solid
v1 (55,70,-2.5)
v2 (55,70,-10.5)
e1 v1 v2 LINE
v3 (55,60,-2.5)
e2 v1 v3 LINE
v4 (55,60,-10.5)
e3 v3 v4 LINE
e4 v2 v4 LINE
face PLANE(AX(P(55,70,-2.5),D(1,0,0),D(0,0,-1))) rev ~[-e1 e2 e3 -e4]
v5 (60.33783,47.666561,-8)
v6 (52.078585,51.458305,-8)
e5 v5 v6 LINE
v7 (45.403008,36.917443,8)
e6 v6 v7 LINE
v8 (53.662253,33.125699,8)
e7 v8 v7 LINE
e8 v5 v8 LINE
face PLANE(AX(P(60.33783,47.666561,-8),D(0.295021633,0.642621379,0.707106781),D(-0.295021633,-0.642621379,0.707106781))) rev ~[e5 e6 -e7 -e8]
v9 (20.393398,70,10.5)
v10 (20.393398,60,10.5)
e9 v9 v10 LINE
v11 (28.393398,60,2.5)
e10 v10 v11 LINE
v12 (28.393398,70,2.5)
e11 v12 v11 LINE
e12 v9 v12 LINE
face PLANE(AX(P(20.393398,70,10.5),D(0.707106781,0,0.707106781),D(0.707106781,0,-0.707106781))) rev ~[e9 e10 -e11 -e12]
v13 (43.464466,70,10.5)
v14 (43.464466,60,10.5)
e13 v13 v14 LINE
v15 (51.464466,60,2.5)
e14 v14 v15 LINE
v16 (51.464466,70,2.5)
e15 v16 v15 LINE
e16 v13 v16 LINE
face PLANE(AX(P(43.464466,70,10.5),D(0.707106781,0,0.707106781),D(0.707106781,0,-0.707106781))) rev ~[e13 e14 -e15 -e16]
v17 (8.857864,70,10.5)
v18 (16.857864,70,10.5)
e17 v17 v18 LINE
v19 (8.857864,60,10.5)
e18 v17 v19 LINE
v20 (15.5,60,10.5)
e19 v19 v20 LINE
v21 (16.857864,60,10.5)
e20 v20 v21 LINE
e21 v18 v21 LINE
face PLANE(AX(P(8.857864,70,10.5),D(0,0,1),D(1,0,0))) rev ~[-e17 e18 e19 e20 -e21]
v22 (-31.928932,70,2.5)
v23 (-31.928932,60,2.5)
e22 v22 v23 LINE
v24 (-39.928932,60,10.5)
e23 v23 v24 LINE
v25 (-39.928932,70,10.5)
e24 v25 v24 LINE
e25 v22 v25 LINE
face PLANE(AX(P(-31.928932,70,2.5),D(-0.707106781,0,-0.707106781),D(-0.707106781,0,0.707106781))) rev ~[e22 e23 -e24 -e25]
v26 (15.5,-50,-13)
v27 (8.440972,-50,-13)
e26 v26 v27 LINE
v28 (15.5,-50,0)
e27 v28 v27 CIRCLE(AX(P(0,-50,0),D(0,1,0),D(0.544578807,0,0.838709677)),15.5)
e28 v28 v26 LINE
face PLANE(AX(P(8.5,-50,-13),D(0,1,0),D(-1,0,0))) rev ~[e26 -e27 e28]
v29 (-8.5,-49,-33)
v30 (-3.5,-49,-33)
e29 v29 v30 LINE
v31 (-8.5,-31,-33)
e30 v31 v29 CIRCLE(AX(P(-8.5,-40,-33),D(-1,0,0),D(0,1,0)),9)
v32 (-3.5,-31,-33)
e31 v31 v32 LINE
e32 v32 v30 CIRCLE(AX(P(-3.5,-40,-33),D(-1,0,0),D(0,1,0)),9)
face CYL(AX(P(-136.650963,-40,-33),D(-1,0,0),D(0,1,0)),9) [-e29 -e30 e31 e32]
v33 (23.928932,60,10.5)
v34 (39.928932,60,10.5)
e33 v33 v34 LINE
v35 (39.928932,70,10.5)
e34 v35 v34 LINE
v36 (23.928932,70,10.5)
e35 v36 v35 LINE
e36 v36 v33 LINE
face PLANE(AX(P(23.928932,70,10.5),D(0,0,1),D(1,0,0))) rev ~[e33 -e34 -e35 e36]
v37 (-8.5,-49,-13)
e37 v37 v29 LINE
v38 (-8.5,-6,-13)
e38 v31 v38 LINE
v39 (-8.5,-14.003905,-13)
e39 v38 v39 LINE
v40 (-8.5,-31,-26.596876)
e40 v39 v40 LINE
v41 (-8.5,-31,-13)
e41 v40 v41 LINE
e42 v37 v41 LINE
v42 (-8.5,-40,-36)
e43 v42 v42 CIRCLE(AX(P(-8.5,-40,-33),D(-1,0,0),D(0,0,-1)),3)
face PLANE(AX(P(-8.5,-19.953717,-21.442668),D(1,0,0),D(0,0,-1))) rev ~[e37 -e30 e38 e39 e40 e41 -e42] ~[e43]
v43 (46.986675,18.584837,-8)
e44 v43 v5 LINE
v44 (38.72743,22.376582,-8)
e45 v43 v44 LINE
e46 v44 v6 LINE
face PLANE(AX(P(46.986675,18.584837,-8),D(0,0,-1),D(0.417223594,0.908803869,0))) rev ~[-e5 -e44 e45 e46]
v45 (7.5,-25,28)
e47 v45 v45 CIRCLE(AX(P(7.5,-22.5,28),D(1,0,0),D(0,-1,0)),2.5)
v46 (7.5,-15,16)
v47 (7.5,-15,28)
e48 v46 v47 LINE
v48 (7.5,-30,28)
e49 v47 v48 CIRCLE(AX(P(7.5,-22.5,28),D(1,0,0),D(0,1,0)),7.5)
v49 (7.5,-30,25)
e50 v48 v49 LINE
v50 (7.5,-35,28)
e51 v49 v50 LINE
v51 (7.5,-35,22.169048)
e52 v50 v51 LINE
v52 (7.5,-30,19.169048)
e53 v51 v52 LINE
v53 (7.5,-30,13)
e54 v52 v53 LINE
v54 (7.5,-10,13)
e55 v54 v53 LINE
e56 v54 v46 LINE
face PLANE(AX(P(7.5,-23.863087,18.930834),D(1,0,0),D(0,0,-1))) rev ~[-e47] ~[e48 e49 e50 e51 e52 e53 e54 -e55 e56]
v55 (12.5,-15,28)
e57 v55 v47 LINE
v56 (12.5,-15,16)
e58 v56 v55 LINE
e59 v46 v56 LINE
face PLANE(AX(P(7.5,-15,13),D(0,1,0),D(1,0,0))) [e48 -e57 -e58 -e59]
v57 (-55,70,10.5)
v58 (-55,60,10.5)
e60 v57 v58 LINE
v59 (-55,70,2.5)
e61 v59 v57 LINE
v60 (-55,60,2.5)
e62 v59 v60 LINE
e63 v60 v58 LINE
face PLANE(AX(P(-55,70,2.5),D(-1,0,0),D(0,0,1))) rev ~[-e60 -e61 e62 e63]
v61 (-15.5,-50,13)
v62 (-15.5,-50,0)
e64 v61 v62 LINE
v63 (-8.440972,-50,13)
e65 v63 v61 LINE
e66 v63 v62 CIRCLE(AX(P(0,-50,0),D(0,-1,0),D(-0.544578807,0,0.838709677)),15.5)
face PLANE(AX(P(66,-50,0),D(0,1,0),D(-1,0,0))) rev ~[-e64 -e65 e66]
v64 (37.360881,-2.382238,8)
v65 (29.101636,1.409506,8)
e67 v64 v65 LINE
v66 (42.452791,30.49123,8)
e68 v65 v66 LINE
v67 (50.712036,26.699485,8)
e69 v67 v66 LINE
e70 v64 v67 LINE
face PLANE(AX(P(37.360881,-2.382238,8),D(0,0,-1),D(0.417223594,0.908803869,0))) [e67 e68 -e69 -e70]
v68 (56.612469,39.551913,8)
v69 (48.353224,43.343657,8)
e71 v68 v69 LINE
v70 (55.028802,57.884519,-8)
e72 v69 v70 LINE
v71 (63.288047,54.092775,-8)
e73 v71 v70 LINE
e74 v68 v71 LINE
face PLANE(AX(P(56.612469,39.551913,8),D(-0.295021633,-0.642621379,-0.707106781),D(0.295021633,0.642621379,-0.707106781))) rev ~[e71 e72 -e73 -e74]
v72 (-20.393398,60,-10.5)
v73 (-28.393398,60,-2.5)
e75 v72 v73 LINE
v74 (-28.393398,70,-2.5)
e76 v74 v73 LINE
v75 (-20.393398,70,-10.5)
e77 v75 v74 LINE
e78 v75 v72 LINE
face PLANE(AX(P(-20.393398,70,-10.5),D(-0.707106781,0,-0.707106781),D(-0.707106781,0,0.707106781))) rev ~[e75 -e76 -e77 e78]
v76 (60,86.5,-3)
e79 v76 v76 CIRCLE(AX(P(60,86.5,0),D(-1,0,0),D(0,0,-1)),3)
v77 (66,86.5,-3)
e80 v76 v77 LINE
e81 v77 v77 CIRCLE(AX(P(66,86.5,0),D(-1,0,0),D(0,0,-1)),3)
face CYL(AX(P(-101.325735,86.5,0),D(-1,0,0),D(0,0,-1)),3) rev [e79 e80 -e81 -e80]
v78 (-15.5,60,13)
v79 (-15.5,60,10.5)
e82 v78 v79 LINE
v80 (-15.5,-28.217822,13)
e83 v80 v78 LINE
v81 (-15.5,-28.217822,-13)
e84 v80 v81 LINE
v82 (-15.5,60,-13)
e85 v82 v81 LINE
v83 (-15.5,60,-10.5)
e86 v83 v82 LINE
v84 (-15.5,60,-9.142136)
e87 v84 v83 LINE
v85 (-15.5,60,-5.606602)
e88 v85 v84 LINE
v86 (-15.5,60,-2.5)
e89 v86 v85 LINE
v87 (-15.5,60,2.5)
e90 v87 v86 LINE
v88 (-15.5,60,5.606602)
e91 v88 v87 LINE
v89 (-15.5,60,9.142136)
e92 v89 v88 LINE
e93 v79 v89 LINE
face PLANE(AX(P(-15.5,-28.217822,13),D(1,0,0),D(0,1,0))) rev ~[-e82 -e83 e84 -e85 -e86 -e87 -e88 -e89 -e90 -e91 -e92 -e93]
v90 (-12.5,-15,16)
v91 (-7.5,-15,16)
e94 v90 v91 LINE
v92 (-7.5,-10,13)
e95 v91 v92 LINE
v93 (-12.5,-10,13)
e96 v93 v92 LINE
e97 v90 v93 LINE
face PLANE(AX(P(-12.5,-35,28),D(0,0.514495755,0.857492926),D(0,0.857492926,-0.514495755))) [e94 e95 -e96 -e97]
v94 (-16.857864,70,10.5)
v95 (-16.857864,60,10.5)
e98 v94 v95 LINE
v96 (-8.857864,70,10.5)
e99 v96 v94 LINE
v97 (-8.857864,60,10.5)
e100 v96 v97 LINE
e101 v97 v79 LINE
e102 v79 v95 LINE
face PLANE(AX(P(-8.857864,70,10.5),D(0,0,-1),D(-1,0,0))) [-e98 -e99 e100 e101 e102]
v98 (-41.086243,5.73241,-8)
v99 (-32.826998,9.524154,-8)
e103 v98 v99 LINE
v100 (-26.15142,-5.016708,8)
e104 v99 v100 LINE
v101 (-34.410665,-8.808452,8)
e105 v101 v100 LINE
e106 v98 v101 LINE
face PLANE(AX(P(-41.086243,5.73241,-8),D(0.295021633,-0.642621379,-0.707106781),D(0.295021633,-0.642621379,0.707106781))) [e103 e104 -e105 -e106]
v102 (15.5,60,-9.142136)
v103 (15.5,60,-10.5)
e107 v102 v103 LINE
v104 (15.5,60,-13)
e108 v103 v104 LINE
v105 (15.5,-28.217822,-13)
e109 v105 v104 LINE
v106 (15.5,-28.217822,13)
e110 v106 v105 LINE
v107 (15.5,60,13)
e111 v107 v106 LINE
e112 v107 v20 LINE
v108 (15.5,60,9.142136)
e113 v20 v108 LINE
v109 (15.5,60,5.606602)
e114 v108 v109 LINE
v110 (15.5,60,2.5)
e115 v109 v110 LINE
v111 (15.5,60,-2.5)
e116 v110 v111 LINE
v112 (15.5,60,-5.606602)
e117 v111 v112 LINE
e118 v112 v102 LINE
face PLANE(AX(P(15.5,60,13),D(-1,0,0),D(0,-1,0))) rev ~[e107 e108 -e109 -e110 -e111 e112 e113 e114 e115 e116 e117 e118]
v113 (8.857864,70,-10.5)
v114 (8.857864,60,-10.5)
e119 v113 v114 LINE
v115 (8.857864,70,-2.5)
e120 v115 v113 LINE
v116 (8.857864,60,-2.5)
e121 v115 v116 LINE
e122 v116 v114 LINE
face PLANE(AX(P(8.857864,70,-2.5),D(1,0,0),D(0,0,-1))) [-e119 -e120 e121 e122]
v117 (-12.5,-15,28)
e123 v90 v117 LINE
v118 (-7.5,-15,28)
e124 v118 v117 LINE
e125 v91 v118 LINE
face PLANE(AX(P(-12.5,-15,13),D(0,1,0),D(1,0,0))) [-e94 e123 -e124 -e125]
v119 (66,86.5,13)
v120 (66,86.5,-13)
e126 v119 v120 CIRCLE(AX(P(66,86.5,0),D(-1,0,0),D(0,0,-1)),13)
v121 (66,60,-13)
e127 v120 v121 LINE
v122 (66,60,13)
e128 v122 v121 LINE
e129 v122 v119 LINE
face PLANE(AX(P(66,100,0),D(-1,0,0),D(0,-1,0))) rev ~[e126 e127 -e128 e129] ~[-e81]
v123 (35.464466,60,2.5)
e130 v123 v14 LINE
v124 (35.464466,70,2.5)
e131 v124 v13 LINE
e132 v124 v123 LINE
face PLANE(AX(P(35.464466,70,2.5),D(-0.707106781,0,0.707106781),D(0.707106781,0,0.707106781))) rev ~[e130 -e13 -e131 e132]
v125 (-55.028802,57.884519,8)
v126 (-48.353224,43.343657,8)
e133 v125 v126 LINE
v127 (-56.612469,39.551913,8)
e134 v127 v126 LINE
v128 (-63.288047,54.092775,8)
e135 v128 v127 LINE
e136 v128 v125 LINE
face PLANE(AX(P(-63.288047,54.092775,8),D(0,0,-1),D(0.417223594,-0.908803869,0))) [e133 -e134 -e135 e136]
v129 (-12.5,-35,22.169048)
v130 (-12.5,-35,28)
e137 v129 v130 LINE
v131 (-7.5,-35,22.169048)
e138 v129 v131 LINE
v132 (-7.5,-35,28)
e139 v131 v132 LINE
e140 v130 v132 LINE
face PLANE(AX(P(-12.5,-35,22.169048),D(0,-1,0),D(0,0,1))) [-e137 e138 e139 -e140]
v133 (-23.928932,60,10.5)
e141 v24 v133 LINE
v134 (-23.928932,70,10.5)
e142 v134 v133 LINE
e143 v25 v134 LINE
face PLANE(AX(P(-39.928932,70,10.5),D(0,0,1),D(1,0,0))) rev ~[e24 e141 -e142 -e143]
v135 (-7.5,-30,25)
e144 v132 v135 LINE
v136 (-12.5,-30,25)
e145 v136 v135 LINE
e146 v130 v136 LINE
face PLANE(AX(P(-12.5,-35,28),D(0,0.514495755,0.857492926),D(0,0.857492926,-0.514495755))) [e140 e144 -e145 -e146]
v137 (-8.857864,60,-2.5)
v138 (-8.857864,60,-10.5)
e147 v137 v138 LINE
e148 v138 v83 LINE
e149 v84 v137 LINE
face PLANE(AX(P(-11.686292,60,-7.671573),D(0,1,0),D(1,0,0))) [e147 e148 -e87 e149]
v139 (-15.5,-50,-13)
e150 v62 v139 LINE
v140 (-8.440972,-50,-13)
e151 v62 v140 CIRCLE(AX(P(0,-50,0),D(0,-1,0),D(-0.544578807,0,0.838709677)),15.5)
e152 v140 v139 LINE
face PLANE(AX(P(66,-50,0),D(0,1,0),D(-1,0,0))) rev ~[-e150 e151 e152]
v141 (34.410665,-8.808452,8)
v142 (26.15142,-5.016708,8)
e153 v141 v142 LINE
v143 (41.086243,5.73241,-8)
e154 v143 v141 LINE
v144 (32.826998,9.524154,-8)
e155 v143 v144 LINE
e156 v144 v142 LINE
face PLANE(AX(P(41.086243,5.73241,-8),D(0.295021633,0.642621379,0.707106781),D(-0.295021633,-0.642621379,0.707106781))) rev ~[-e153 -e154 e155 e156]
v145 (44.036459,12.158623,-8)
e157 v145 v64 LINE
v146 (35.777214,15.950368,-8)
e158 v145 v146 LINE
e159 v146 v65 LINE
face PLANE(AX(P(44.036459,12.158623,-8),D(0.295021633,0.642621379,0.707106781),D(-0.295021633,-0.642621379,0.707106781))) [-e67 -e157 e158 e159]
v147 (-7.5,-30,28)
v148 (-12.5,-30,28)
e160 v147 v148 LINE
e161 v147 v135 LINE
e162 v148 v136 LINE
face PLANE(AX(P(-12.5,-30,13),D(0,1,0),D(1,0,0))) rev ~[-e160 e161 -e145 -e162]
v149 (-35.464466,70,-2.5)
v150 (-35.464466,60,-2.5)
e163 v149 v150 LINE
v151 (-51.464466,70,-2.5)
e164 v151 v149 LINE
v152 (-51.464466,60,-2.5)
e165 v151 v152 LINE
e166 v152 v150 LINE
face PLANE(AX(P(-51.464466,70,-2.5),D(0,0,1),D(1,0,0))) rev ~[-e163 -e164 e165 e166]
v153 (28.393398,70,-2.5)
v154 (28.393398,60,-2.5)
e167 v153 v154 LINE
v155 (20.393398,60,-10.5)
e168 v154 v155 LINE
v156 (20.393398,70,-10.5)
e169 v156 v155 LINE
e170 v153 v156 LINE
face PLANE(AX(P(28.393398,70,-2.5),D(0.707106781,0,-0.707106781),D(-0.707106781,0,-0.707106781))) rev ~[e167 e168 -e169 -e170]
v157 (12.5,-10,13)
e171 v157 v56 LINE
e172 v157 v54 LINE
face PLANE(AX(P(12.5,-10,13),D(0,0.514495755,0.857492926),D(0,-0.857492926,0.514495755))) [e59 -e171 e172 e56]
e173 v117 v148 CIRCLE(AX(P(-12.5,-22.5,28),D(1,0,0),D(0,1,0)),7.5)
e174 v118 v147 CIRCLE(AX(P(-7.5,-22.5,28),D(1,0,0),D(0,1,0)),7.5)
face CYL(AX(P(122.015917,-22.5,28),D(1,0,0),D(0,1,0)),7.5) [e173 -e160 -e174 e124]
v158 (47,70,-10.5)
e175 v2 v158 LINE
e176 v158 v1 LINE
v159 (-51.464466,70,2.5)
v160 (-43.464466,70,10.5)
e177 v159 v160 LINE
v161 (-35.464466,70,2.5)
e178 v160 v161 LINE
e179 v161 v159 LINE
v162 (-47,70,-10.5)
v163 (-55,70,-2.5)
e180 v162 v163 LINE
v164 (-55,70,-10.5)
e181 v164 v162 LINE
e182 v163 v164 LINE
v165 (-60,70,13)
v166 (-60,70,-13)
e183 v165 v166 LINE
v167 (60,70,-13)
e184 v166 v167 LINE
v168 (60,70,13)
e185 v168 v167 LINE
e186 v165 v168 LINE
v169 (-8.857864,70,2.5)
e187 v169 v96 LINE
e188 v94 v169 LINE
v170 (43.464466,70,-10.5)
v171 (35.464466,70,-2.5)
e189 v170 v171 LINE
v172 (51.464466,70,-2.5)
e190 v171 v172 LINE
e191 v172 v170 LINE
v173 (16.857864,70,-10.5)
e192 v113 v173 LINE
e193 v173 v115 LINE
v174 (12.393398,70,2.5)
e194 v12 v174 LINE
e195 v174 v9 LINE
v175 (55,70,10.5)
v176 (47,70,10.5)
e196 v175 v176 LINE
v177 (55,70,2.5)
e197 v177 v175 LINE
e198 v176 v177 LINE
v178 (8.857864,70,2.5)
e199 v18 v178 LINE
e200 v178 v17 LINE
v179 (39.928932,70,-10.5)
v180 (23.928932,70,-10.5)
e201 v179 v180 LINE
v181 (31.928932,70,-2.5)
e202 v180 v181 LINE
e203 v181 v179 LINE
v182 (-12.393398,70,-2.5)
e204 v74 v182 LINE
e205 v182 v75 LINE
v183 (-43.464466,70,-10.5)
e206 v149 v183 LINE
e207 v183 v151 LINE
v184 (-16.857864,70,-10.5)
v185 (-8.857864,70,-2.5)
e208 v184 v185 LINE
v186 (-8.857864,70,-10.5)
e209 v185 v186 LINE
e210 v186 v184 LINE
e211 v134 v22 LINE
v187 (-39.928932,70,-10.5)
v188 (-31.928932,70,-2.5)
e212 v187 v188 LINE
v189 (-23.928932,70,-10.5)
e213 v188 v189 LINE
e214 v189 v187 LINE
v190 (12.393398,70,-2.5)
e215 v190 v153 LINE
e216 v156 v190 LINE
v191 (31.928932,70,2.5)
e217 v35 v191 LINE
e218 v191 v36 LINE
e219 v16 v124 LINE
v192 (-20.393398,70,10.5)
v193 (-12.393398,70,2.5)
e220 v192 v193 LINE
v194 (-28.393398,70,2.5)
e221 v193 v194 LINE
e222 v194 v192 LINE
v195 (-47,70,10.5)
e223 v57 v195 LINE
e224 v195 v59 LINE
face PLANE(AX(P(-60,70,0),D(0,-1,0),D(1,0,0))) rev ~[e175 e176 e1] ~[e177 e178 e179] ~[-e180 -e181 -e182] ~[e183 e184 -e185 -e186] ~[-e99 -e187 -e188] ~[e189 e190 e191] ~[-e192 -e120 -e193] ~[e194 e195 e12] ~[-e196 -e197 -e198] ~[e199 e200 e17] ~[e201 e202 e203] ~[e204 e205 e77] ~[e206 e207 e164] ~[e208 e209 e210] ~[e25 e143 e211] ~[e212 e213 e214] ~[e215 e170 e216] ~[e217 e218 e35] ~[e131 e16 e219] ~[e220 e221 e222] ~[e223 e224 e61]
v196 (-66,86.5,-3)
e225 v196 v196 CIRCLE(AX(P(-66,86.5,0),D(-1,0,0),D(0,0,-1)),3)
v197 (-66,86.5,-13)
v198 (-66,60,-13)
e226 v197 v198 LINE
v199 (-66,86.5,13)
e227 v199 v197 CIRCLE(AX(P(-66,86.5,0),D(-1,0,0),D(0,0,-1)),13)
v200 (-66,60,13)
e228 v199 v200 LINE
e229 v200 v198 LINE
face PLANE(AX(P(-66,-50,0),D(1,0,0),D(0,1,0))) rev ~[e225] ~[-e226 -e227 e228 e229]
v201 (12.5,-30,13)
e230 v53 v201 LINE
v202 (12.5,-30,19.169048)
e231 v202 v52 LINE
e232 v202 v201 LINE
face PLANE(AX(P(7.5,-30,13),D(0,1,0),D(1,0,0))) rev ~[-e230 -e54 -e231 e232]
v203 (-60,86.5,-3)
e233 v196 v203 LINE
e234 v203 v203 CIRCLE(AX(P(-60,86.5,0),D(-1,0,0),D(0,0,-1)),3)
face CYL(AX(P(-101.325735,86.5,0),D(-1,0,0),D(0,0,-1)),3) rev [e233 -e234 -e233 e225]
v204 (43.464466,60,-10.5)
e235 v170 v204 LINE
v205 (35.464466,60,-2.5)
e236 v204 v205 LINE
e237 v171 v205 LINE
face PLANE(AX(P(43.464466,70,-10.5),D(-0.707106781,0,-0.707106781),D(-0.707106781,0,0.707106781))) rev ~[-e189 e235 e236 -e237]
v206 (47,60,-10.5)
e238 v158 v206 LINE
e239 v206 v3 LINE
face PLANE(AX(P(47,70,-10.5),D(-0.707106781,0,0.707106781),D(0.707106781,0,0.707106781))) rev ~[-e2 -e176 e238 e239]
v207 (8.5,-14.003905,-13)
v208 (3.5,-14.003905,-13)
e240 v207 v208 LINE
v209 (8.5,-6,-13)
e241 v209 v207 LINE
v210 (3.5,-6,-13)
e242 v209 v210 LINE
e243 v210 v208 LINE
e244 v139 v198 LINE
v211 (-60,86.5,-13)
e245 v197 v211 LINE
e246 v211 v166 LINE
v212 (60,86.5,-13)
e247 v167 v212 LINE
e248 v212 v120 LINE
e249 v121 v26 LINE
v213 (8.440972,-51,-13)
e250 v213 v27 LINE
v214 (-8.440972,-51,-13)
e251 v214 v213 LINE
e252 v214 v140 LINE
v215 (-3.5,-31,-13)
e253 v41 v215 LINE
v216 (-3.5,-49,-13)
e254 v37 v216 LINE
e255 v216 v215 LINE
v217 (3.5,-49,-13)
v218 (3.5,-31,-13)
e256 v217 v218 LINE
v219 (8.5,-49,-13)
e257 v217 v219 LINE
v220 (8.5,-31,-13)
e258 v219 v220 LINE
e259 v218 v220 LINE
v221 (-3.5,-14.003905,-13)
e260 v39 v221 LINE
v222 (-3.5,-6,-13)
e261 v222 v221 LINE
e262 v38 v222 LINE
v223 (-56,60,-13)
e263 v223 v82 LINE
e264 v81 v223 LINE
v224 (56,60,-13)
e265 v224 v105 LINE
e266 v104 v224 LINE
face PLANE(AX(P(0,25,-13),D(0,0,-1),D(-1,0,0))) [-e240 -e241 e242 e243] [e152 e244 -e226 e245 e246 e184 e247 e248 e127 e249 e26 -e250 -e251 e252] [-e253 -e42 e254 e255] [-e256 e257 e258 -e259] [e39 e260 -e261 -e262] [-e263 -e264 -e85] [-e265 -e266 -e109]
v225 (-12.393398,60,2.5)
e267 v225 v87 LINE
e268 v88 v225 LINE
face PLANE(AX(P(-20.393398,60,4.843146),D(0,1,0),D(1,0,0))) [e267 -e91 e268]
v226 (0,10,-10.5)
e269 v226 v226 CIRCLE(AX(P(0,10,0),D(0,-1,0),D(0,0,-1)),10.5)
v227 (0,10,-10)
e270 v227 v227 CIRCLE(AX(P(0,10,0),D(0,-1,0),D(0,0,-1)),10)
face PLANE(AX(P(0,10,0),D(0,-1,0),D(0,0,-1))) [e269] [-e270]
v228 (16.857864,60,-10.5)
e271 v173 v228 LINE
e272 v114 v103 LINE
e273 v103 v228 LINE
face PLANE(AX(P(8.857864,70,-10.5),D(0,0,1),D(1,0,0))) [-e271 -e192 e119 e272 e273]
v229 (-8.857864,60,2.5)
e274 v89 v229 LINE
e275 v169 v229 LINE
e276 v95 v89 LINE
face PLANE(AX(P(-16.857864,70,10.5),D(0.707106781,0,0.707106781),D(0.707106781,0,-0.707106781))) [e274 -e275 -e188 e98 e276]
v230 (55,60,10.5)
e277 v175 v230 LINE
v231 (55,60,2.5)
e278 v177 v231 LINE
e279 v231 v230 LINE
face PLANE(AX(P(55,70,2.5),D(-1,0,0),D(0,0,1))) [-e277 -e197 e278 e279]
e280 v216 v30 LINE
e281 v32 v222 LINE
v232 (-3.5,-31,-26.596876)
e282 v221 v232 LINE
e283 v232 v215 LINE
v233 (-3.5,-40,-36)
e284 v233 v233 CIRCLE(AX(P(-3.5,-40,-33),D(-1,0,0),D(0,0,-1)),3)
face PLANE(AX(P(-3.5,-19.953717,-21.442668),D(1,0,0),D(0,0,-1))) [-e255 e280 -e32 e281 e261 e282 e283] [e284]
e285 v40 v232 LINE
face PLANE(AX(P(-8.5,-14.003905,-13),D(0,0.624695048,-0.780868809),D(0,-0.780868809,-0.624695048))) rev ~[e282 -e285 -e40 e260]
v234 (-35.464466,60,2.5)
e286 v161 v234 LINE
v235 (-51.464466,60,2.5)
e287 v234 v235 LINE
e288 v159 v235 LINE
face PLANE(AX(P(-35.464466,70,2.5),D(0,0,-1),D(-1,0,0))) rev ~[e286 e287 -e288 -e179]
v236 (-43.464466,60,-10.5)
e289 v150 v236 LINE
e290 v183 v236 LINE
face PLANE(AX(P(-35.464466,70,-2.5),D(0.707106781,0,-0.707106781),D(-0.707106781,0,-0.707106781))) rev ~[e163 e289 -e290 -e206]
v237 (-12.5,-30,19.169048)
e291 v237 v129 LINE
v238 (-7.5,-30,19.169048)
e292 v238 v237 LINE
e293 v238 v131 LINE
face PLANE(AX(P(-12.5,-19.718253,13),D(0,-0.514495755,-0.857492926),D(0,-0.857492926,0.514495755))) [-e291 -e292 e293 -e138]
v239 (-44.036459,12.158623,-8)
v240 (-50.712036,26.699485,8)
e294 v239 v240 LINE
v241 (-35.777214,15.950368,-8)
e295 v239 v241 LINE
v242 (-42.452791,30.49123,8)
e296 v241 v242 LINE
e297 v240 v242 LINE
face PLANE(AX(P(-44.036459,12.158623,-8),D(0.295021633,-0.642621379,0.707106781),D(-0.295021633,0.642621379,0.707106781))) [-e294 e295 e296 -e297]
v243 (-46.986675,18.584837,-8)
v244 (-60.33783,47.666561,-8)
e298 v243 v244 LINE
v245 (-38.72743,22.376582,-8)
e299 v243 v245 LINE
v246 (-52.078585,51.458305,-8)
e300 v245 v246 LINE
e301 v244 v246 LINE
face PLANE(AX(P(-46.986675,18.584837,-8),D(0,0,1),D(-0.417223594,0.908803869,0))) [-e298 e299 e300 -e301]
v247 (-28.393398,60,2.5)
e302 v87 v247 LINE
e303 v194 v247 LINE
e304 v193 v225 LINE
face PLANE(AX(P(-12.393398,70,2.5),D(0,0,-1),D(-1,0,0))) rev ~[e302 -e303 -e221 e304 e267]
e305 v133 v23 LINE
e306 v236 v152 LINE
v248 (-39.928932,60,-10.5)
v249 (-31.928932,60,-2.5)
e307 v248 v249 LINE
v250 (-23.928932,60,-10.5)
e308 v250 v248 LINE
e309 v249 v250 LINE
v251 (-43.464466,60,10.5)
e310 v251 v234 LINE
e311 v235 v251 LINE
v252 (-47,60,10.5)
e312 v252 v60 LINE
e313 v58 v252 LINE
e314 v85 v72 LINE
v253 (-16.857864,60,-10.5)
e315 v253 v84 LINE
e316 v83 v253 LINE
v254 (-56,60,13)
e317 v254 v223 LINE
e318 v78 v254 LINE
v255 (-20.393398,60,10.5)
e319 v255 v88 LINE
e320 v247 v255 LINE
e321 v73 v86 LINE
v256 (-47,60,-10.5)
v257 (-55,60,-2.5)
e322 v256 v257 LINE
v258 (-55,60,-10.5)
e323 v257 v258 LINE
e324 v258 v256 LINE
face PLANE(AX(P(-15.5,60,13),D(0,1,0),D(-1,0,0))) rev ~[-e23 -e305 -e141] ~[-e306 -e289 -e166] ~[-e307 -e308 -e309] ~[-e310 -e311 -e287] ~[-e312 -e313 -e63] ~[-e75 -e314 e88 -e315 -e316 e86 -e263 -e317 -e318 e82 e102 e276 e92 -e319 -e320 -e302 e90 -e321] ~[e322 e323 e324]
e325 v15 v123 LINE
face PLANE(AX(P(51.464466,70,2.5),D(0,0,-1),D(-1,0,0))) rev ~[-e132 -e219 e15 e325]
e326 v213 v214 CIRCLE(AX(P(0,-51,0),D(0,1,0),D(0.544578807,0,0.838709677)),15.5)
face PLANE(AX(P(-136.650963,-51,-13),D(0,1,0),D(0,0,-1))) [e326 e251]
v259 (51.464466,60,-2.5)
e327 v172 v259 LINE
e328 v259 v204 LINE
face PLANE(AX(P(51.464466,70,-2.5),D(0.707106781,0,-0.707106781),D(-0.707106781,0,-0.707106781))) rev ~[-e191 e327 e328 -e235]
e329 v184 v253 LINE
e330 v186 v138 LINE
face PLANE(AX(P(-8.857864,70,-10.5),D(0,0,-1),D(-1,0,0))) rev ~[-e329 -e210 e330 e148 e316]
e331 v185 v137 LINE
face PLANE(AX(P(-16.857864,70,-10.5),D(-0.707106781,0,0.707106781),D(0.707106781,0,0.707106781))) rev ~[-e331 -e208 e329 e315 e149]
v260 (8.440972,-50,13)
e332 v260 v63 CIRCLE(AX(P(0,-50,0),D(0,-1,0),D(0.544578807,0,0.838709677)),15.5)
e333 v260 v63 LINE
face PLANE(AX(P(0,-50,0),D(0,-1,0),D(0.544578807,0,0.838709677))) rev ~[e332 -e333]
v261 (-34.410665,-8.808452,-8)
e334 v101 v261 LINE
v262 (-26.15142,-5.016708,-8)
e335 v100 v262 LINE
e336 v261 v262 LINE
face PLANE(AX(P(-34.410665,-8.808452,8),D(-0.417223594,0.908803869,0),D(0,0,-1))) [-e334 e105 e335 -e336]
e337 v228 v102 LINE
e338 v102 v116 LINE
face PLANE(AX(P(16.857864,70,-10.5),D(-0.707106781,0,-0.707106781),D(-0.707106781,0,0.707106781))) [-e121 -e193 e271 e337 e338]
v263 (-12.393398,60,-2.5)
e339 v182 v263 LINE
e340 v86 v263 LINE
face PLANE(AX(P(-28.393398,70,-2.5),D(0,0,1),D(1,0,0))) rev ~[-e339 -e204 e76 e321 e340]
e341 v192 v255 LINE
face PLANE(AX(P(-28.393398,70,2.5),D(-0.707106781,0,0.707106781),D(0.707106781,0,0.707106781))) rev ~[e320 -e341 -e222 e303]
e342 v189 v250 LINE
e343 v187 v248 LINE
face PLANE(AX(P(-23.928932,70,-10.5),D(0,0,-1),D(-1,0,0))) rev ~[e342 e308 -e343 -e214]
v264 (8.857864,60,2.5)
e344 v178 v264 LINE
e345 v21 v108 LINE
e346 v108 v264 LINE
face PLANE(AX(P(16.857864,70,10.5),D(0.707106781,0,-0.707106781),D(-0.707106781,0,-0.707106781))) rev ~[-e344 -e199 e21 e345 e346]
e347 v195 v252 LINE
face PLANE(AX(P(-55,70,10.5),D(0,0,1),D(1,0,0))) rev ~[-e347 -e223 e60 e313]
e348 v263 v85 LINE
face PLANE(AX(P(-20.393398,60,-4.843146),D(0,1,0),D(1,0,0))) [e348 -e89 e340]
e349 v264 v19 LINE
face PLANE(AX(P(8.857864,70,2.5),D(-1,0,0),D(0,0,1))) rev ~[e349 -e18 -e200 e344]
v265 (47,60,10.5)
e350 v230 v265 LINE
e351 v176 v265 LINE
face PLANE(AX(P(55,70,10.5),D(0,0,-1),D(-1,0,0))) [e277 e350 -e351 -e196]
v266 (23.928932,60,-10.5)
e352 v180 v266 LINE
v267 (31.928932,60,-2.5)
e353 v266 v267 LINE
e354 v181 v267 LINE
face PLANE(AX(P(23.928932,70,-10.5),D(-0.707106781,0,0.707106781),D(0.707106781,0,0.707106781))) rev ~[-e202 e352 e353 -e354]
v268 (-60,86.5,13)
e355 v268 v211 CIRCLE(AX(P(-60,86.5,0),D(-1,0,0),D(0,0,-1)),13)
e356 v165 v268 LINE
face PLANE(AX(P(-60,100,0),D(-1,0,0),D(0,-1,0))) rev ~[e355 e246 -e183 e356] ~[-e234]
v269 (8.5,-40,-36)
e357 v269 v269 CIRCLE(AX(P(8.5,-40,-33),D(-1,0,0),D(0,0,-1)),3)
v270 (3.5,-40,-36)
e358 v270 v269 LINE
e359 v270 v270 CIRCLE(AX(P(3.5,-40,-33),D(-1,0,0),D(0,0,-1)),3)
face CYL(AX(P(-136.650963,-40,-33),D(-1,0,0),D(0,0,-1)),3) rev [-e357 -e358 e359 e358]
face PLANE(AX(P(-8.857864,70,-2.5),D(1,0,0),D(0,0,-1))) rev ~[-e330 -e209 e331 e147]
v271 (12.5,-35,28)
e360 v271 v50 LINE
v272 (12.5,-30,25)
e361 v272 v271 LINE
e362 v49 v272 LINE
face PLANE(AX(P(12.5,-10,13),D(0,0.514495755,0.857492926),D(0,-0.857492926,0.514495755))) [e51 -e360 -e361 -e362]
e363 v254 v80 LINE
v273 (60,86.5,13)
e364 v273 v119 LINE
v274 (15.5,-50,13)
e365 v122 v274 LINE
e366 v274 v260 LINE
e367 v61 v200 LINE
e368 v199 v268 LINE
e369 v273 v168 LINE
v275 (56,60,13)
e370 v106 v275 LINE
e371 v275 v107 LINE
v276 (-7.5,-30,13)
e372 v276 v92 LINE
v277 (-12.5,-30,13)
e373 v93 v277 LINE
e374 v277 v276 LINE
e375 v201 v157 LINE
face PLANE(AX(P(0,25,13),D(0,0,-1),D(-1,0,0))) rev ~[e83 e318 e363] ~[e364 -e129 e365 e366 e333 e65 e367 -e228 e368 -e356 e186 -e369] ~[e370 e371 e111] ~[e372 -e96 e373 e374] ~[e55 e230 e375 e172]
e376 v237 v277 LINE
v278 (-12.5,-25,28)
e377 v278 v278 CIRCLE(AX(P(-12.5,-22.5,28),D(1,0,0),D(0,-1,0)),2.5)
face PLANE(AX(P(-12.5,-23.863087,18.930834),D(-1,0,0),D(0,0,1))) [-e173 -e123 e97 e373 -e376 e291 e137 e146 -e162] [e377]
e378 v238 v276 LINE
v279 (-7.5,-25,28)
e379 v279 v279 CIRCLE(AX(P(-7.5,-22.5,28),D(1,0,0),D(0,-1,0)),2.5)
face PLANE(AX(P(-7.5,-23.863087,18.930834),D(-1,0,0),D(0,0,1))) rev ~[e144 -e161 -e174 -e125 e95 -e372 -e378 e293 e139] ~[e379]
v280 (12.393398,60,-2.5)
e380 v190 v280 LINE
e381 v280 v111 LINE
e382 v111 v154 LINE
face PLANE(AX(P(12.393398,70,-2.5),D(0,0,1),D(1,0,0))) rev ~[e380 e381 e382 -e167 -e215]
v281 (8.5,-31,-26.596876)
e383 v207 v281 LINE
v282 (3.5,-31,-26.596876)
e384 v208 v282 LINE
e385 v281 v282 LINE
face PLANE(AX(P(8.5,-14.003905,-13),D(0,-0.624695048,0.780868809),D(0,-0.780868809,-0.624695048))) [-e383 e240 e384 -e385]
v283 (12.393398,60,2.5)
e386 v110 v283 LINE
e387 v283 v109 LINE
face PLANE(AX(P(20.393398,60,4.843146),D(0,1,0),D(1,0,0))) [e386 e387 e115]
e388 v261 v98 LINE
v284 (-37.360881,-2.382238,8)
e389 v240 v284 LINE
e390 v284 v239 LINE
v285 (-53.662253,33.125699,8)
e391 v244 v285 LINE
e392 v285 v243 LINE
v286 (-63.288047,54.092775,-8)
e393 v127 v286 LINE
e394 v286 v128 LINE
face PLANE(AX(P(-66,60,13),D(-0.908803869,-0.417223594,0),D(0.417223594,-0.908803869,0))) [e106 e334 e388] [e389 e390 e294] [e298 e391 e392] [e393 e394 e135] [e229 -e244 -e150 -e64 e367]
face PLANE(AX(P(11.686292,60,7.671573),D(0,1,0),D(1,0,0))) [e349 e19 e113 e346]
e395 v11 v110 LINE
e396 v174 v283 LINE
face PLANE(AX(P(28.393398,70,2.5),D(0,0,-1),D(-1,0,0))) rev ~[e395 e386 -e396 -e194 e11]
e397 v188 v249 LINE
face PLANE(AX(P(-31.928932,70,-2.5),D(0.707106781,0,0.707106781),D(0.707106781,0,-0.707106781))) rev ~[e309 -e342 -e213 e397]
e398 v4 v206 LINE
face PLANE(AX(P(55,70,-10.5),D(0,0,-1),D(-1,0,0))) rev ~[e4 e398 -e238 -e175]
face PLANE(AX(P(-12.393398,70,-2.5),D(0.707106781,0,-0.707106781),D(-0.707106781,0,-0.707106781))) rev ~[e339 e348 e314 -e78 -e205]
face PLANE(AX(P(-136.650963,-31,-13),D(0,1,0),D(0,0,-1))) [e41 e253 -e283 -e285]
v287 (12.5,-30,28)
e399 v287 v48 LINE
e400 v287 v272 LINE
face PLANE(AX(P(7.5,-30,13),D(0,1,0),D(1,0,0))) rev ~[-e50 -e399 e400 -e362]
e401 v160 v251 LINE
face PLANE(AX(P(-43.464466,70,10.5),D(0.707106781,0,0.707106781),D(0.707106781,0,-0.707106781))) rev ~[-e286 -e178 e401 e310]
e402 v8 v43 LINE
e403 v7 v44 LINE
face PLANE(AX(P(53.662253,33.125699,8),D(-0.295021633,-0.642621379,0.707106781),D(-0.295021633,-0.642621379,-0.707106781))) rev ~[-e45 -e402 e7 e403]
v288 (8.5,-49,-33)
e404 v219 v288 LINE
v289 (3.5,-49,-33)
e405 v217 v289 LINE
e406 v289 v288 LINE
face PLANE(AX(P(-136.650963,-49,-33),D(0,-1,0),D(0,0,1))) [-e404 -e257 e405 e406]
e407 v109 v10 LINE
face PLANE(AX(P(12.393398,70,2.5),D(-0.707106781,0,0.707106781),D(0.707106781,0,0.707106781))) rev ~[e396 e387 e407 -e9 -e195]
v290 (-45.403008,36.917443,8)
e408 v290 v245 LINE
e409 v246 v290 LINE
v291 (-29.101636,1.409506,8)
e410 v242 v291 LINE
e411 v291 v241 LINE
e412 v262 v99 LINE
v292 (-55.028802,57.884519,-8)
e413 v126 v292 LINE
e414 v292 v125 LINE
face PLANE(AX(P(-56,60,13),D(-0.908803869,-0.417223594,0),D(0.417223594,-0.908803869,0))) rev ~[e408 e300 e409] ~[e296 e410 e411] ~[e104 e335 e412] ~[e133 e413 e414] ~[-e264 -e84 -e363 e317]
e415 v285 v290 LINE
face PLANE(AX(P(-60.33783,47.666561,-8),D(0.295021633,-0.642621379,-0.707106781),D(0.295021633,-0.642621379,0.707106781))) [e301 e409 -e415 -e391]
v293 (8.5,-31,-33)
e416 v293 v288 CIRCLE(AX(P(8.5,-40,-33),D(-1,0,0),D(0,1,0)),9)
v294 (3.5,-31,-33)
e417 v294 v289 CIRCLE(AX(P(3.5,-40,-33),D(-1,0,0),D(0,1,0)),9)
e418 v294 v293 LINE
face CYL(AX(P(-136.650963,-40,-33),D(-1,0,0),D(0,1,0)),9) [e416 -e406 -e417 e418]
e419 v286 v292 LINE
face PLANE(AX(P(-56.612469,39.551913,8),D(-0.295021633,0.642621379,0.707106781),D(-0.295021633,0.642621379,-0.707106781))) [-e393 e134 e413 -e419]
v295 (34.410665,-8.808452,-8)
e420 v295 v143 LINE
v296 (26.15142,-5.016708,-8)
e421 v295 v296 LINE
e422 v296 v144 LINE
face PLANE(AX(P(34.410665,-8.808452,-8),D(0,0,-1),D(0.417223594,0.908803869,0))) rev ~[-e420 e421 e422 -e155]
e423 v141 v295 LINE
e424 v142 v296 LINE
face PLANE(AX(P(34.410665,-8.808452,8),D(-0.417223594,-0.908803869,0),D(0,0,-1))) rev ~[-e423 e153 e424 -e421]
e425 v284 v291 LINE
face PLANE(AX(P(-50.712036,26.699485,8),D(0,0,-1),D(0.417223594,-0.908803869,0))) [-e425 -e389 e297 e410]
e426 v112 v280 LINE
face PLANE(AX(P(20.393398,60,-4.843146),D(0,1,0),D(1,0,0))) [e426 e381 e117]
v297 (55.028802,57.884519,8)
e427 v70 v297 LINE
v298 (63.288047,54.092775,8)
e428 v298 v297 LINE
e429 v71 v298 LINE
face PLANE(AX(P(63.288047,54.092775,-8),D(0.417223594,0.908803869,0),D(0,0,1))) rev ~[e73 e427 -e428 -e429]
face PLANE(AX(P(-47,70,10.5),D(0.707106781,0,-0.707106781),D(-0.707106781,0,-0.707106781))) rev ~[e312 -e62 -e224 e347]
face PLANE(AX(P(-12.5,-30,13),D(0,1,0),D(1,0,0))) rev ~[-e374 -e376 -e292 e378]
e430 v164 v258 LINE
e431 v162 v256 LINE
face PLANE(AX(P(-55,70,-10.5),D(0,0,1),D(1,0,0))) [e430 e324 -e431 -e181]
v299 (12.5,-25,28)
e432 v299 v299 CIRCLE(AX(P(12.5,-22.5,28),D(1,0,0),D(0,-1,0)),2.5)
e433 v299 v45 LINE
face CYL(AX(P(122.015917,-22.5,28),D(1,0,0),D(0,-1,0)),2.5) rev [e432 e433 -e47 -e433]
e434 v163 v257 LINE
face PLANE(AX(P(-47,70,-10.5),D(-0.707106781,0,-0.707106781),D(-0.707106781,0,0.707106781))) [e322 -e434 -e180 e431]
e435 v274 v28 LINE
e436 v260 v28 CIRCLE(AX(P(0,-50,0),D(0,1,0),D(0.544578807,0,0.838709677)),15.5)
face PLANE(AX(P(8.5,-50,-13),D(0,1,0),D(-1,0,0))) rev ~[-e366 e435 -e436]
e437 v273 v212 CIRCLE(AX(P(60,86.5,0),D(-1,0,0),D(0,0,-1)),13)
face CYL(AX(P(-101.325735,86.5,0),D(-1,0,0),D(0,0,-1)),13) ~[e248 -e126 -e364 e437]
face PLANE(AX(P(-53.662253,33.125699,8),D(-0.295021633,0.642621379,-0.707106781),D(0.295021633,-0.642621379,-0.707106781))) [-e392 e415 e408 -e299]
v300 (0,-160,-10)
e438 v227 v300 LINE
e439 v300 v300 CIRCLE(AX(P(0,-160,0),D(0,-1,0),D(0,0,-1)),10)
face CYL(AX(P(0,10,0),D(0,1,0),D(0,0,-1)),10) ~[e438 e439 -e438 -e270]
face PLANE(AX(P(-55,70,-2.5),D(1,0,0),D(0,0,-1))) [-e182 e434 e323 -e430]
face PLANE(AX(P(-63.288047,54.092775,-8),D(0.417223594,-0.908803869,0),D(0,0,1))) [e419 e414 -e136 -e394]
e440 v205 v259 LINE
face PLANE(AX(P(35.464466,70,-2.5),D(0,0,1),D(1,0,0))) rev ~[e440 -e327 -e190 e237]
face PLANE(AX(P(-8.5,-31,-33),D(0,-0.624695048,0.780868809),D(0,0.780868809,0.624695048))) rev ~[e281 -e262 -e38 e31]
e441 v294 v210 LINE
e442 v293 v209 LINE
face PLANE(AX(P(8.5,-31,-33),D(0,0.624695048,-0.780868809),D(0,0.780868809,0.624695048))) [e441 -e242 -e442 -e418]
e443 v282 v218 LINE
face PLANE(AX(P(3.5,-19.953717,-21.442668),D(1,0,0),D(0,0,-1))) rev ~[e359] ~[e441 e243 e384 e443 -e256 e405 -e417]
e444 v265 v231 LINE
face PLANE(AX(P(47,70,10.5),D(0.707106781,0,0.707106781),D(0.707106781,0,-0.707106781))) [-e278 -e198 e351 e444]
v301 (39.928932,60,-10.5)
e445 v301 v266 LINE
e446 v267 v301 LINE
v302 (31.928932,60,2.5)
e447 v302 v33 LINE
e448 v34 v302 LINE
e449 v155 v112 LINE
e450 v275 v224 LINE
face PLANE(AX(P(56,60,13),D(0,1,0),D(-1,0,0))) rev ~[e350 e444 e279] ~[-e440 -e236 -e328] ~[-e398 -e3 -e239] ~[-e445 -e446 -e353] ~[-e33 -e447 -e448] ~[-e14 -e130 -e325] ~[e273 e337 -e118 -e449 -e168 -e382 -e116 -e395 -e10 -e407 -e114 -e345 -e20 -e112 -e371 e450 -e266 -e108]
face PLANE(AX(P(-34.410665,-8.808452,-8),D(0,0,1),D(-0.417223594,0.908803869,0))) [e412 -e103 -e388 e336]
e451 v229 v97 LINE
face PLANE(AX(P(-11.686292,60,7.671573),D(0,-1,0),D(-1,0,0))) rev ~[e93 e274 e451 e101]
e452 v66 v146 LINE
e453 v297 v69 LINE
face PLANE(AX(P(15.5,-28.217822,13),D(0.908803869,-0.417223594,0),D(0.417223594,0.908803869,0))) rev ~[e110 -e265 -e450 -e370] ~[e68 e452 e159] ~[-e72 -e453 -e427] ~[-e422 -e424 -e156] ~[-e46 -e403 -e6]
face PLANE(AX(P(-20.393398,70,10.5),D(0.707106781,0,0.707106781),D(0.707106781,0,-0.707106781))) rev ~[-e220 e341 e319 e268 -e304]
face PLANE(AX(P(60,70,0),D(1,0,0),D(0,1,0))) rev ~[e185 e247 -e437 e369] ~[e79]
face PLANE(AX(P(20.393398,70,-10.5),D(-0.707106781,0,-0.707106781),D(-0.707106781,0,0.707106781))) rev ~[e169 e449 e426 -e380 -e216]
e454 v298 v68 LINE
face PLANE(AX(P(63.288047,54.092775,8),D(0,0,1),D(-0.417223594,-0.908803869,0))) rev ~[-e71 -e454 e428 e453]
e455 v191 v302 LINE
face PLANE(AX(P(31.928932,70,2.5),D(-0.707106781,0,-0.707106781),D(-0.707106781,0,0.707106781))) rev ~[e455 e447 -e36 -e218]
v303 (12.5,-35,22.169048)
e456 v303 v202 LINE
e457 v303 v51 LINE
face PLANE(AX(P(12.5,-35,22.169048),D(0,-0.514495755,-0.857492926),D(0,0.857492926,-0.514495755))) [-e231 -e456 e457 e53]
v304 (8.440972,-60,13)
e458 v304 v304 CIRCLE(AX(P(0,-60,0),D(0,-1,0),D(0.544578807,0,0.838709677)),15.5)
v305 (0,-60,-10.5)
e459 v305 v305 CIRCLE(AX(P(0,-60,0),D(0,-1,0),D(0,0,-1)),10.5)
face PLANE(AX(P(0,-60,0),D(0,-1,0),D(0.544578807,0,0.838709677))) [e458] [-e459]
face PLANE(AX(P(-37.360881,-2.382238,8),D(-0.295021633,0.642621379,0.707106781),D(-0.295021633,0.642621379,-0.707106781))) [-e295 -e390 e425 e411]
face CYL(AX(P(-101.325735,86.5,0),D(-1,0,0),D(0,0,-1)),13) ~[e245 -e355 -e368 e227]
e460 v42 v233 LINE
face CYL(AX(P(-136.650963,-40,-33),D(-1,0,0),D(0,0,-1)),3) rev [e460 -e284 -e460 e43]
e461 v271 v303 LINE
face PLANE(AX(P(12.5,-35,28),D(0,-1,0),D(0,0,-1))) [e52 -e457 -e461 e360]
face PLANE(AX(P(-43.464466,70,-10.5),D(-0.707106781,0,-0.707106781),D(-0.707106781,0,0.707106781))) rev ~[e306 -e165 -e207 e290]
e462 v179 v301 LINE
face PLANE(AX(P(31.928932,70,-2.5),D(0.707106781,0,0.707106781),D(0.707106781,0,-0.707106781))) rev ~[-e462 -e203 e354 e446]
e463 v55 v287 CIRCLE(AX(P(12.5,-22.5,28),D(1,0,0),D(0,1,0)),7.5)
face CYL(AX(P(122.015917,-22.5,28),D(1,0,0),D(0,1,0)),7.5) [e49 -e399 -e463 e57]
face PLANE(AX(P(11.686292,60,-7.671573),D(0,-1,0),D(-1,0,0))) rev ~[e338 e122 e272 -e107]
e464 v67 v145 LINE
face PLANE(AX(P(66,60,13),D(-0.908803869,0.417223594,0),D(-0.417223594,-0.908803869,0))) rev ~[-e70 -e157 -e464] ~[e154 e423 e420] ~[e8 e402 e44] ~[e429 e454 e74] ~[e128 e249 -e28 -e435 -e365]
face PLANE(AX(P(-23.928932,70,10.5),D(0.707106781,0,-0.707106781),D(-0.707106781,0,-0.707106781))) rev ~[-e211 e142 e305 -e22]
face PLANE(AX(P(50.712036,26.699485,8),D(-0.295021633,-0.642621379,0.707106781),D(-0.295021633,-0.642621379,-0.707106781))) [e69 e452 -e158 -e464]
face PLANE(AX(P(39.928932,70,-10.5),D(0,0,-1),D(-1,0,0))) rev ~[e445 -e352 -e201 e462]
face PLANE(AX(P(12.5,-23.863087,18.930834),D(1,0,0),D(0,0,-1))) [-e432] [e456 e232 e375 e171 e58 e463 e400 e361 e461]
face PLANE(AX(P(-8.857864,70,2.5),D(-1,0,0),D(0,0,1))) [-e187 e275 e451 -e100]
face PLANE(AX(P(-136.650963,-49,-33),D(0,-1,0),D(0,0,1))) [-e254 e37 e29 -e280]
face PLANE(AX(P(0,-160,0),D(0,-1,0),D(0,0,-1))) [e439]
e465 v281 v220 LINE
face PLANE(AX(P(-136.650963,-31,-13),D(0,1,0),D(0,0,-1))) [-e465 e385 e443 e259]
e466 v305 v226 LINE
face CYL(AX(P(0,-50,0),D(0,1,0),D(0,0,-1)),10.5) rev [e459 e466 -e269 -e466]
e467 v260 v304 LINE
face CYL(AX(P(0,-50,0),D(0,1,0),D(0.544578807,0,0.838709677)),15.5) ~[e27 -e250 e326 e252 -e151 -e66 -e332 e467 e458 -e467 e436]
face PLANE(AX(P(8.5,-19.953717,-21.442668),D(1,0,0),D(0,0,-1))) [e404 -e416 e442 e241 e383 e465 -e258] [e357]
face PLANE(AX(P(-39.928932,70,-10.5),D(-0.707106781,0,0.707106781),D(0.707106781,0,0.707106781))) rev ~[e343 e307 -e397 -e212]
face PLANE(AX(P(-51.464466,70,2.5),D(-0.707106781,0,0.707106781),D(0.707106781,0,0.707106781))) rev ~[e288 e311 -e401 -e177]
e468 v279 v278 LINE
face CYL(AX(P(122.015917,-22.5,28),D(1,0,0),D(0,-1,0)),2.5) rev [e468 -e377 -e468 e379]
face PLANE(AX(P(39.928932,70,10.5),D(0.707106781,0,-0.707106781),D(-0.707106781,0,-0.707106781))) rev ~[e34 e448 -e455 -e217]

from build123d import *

# Parameters (mm, degrees)
TYKKELSE_LEDDFESTER_OG_BREDDE_H_YDE_SELV_DEPTH = 13
SKETCH28_R                                     = 15.5
SKETCH28_R_2                                   = 10.5
HULL_TIL_L_RBEN_KARBONFIBERR_R_DEPTH           = 10
SKRUEHULL_LEDDFESTER_DEPTH                     = 167.325734629
SKRUEHULL_LEDDFESTER_DEPTH_BACK                = 167.325734629
SKETCH29_R                                     = 3
SKETCH33_W                                     = 5
SKETCH33_H                                     = 20
BREDDE_OG_AVSTAND_STEMPELENDE_DEPTH            = 60
CUT_EXTRUDE4_DEPTH                             = 148.147035308
SIDEM_NSTER_DEPTH                              = 9.088039
SIDEM_NSTER_2_DEPTH                            = 9.088039
UTVIDET_START                                  = -60
SKETCH44_R                                     = 10.5
UTVIDET_L_RBENHULL_INN_I_SELVE_KROPPEN_DEPTH   = 60
M_NSTER_TOPP_DEPTH                             = 10
STEMPELENDE_AV_ST_RSTE_SYLINDER_DEPTH          = 145.150962536
STEMPELENDE_AV_ST_RSTE_SYLINDER_DEPTH_BACK     = 145.150962536
ROD_ENDE_JUSTERE_LENGDEN_ALTS_FESTE_T_R        = 3
SKETCH39_W                                     = 5
SKETCH39_H                                     = 15
SYLINDERFESTE_SELVE_DEN_LILLE_SYLINDERE_DEPTH  = 25
ST_TTER_ST_RSTE_SYLINDER_1_DEPTH               = 5
ST_TTER_ST_RSTE_SYLINDER_2_DEPTH               = 5
SYLINDERFESTE_LITEN_SYLINDER_DEPTH             = 134.515916654
SYLINDERFESTE_LITEN_SYLINDER_DEPTH_BACK        = 134.515916654
SKETCH48_R                                     = 2.5
BOSS_EXTRUDE11_DEPTH                           = 5
BOSS_EXTRUDE12_DEPTH                           = 5
SKETCH51_R                                     = 10
TIL_ASSEMBLY_SLETT_F_R_PRINTING_DEPTH          = 170


with BuildPart() as part:
    # Sketch27 → Tykkelse leddfester og bredde/høyde selve modellen (new, symmetric)
    with BuildSketch(Plane.XY):
        Polygon((66, -50), (-66, -50), (-66, 100), (-60, 100), (-60, 70), (60, 70), (60, 100), (66, 100), align=None)
    extrude(amount=TYKKELSE_LEDDFESTER_OG_BREDDE_H_YDE_SELV_DEPTH, both=True)

    # Sketch28 → Hull til lårben/karbonfiberrør (add)
    with BuildSketch(Plane.XZ.offset(50)):
        with Locations(Location((0, 0, 0), (0, 0, 57.004114526))):
            Circle(SKETCH28_R)
        with Locations(Location((0, 0, 0), (0, 0, 270))):
            Circle(SKETCH28_R_2, mode=Mode.SUBTRACT)
    extrude(amount=HULL_TIL_L_RBEN_KARBONFIBERR_R_DEPTH)

    # Sketch29 → Skruehull leddfester (cut, two sides: drawn at the far end of the back side and taken through both)
    with BuildSketch(Plane(origin=(66, 0, 0), x_dir=(0, 0, -1), z_dir=(1, 0, 0)).offset(-SKRUEHULL_LEDDFESTER_DEPTH_BACK)):
        with Locations((0, 86.5)):
            Circle(SKETCH29_R)
        with BuildLine():
            Line((-13, 86.5), (-13, 71.5))
            Line((-13, 71.5), (-14, 71.5))
            Line((-14, 71.5), (-14, 101))
            Line((-14, 101), (0, 101))
            Line((0, 101), (14, 101))
            Line((14, 101), (14, 71.5))
            Line((14, 71.5), (13, 71.5))
            Line((13, 71.5), (13, 86.5))
            ThreePointArc((13, 86.5), (0, 99.5), (-13, 86.5))
        make_face()
    extrude(amount=SKRUEHULL_LEDDFESTER_DEPTH + SKRUEHULL_LEDDFESTER_DEPTH_BACK, mode=Mode.SUBTRACT)

    # Sketch33 → Bredde og avstand stempelende (add)
    with BuildSketch(Plane(origin=(0, 0, -13), x_dir=(-1, 0, 0), z_dir=(0, 0, -1))):
        with Locations((-6, -40)):
            Rectangle(SKETCH33_W, SKETCH33_H)
        with Locations((6, -40)):
            Rectangle(SKETCH33_W, SKETCH33_H)
    extrude(amount=BREDDE_OG_AVSTAND_STEMPELENDE_DEPTH)

    # Fasong (mønster på selve kroppen) → Cut-Extrude4 (cut, through all)
    with BuildSketch(Plane.XY.offset(13)):
        Polygon((-66, 60), (-15.5, -50), (-66, -50), align=None)
        Polygon((15.5, -50), (66, -50), (66, 60), align=None)
        Polygon((-56, 60), (-15.5, -28.217821782), (-15.5, 60), align=None)
        Polygon((56, 60), (15.5, 60), (15.5, -28.217821782), align=None)
    extrude(amount=-CUT_EXTRUDE4_DEPTH, mode=Mode.SUBTRACT)

    # Sketch40 → Sidemønster (cut)
    with BuildSketch(Plane(origin=(-31.760550161, -14.580979847, 0), x_dir=(0, 0, 1), z_dir=(-0.9088038689830882, -0.41722359439678147, 0))):
        Polygon((-8, 75.564989369), (8, 75.564989369), (8, 59.564989369), align=None)
        Polygon((-8, 68.493921557), (8, 52.493921557), (-8, 36.493921557), align=None)
        Polygon((8, 13.422853745), (-8, 29.422853745), (8, 45.422853745), align=None)
        Polygon((-8, 22.351785934), (8, 6.351785934), (-8, 6.351785934), align=None)
    extrude(amount=-SIDEM_NSTER_DEPTH, mode=Mode.SUBTRACT)

    # Sketch42 → Sidemønster 2 (cut)
    with BuildSketch(Plane(origin=(31.760550161, -14.580979847, 0), x_dir=(0, 0, -1), z_dir=(0.9088038689830882, -0.41722359439678147, 0))):
        Polygon((8, 75.564989369), (-8, 75.564989369), (-8, 59.564989369), align=None)
        Polygon((8, 68.493921557), (-8, 52.493921557), (8, 36.493921557), align=None)
        Polygon((-8, 45.422853745), (8, 29.422853745), (-8, 13.422853745), align=None)
        Polygon((8, 22.351785934), (-8, 6.351785934), (8, 6.351785934), align=None)
    extrude(amount=-SIDEM_NSTER_2_DEPTH, mode=Mode.SUBTRACT)

    # Sketch44 → Utvidet lårbenhull inn i selve kroppen (cut)
    with BuildSketch(Plane.XZ.offset(50).offset(UTVIDET_START)):
        with Locations(Location((0, 0, 0), (0, 0, 270))):
            Circle(SKETCH44_R)
    extrude(amount=UTVIDET_L_RBENHULL_INN_I_SELVE_KROPPEN_DEPTH, mode=Mode.SUBTRACT)

    # Sketch45 → Mønster topp (cut)
    with BuildSketch(Plane(origin=(0, 70, 0), x_dir=(1, 0, 0), z_dir=(0, 1, 0))):
        Polygon((-39.928932188, 10.5), (-31.928932188, 2.5), (-23.928932188, 10.5), align=None)
        Polygon((-16.857864376, 10.5), (-8.857864376, 2.5), (-8.857864376, 10.5), align=None)
        Polygon((-55, 2.5), (-55, 10.5), (-47, 10.5), align=None)
        Polygon((-43.464466094, 10.5), (-51.464466094, 2.5), (-35.464466094, 2.5), align=None)
        Polygon((-20.393398282, 10.5), (-28.393398282, 2.5), (-12.393398282, 2.5), align=None)
        Polygon((-8.857864376, -2.5), (-8.857864376, -10.5), (-16.857864376, -10.5), align=None)
        Polygon((-20.393398282, -10.5), (-12.393398282, -2.5), (-28.393398282, -2.5), align=None)
        Polygon((-23.928932188, -10.5), (-31.928932188, -2.5), (-39.928932188, -10.5), align=None)
        Polygon((-43.464466094, -10.5), (-35.464466094, -2.5), (-51.464466094, -2.5), align=None)
        Polygon((-55, -10.5), (-47, -10.5), (-55, -2.5), align=None)
        Polygon((8.857864376, 2.5), (8.857864376, 10.5), (16.857864376, 10.5), align=None)
        Polygon((16.857864376, -10.5), (8.857864376, -2.5), (8.857864376, -10.5), align=None)
        Polygon((20.393398282, -10.5), (28.393398282, -2.5), (12.393398282, -2.5), align=None)
        Polygon((20.393398282, 10.5), (12.393398282, 2.5), (28.393398282, 2.5), align=None)
        Polygon((23.928932188, 10.5), (31.928932188, 2.5), (39.928932188, 10.5), align=None)
        Polygon((23.928932188, -10.5), (39.928932188, -10.5), (31.928932188, -2.5), align=None)
        Polygon((43.464466094, -10.5), (51.464466094, -2.5), (35.464466094, -2.5), align=None)
        Polygon((55, -2.5), (55, -10.5), (47, -10.5), align=None)
        Polygon((43.464466094, 10.5), (35.464466094, 2.5), (51.464466094, 2.5), align=None)
        Polygon((55, 10.5), (47, 10.5), (55, 2.5), align=None)
    extrude(amount=-M_NSTER_TOPP_DEPTH, mode=Mode.SUBTRACT)

    # Rod-ende, justere lengden (altså feste til største sylinder) → Stempelende av st_rste sylinder (cut, two sides: drawn at the far end of the back side and taken through both)
    with BuildSketch(Plane(origin=(8.5, 0, 0), x_dir=(0, 0, -1), z_dir=(1, 0, 0)).offset(-STEMPELENDE_AV_ST_RSTE_SYLINDER_DEPTH_BACK)):
        with Locations((33, -40)):
            Circle(ROD_ENDE_JUSTERE_LENGDEN_ALTS_FESTE_T_R)
        with BuildLine():
            Line((43, -51), (74, -51))
            Line((74, -51), (74, -29))
            Line((74, -29), (43, -29))
            Line((43, -29), (13, -29))
            Line((13, -29), (13, -31))
            Line((13, -31), (33, -31))
            ThreePointArc((33, -31), (42, -40), (33, -49))
            Line((33, -49), (13, -49))
            Line((13, -49), (13, -51))
            Line((13, -51), (43, -51))
        make_face()
    extrude(amount=STEMPELENDE_AV_ST_RSTE_SYLINDER_DEPTH + STEMPELENDE_AV_ST_RSTE_SYLINDER_DEPTH_BACK, mode=Mode.SUBTRACT)

    # Sketch39 → Sylinderfeste_ selve den lille sylindere (add)
    with BuildSketch(Plane.XY.offset(13)):
        with Locations((-10, -22.5)):
            Rectangle(SKETCH39_W, SKETCH39_H)
        with Locations((10, -22.5)):
            Rectangle(SKETCH39_W, SKETCH39_H)
    extrude(amount=SYLINDERFESTE_SELVE_DEN_LILLE_SYLINDERE_DEPTH)

    # Sketch46 → Støtter største sylinder 1 (add)
    with BuildSketch(Plane(origin=(8.5, 0, 0), x_dir=(0, 0, -1), z_dir=(1, 0, 0))):
        Polygon((13, -6), (13, -14.003905297), (26.596875763, -31), (33, -31), align=None)
    extrude(amount=-ST_TTER_ST_RSTE_SYLINDER_1_DEPTH)

    # Sketch47 → Støtter største sylinder 2 (add)
    with BuildSketch(Plane.ZY.offset(8.5)):
        Polygon((-33, -31), (-13, -6), (-13, -14.003905297), (-26.596875763, -31), align=None)
    extrude(amount=-ST_TTER_ST_RSTE_SYLINDER_2_DEPTH)

    # Sketch48 → Sylinderfeste, liten sylinder (cut, two sides: drawn at the far end of the back side and taken through both)
    with BuildSketch(Plane.ZY.offset(12.5).offset(-SYLINDERFESTE_LITEN_SYLINDER_DEPTH_BACK)):
        with Locations(Location((28, -22.5, 0), (0, 0, 270))):
            Circle(SKETCH48_R)
        with BuildLine():
            Line((28, -30), (13.179811187, -30))
            Line((13.179811187, -30), (13.179811187, -31))
            Line((13.179811187, -31), (39, -31))
            Line((39, -31), (39, -14))
            Line((39, -14), (13, -14))
            Line((13, -14), (13, -15))
            Line((13, -15), (28, -15))
            ThreePointArc((28, -15), (35.5, -22.5), (28, -30))
        make_face()
    extrude(amount=SYLINDERFESTE_LITEN_SYLINDER_DEPTH + SYLINDERFESTE_LITEN_SYLINDER_DEPTH_BACK, mode=Mode.SUBTRACT)

    # Sketch49 → Boss-Extrude11 (add)
    with BuildSketch(Plane.ZY.offset(12.5)):
        Polygon((28, -35), (13, -10), (13, -19.718253158), (22.169048105, -35), align=None)
    extrude(amount=-BOSS_EXTRUDE11_DEPTH)

    # Sketch50 → Boss-Extrude12 (add)
    with BuildSketch(Plane(origin=(12.5, 0, 0), x_dir=(0, 0, -1), z_dir=(1, 0, 0))):
        Polygon((-28, -35), (-22.169048105, -35), (-13, -19.718253158), (-13, -10), align=None)
    extrude(amount=-BOSS_EXTRUDE12_DEPTH)

    # Sketch51 → TIL ASSEMBLY - SLETT FØR PRINTING (add)
    with BuildSketch(Plane.XZ.offset(-10)):
        with Locations(Location((0, 0, 0), (0, 0, 270))):
            Circle(SKETCH51_R)
    extrude(amount=TIL_ASSEMBLY_SLETT_F_R_PRINTING_DEPTH)


solid = part.part
